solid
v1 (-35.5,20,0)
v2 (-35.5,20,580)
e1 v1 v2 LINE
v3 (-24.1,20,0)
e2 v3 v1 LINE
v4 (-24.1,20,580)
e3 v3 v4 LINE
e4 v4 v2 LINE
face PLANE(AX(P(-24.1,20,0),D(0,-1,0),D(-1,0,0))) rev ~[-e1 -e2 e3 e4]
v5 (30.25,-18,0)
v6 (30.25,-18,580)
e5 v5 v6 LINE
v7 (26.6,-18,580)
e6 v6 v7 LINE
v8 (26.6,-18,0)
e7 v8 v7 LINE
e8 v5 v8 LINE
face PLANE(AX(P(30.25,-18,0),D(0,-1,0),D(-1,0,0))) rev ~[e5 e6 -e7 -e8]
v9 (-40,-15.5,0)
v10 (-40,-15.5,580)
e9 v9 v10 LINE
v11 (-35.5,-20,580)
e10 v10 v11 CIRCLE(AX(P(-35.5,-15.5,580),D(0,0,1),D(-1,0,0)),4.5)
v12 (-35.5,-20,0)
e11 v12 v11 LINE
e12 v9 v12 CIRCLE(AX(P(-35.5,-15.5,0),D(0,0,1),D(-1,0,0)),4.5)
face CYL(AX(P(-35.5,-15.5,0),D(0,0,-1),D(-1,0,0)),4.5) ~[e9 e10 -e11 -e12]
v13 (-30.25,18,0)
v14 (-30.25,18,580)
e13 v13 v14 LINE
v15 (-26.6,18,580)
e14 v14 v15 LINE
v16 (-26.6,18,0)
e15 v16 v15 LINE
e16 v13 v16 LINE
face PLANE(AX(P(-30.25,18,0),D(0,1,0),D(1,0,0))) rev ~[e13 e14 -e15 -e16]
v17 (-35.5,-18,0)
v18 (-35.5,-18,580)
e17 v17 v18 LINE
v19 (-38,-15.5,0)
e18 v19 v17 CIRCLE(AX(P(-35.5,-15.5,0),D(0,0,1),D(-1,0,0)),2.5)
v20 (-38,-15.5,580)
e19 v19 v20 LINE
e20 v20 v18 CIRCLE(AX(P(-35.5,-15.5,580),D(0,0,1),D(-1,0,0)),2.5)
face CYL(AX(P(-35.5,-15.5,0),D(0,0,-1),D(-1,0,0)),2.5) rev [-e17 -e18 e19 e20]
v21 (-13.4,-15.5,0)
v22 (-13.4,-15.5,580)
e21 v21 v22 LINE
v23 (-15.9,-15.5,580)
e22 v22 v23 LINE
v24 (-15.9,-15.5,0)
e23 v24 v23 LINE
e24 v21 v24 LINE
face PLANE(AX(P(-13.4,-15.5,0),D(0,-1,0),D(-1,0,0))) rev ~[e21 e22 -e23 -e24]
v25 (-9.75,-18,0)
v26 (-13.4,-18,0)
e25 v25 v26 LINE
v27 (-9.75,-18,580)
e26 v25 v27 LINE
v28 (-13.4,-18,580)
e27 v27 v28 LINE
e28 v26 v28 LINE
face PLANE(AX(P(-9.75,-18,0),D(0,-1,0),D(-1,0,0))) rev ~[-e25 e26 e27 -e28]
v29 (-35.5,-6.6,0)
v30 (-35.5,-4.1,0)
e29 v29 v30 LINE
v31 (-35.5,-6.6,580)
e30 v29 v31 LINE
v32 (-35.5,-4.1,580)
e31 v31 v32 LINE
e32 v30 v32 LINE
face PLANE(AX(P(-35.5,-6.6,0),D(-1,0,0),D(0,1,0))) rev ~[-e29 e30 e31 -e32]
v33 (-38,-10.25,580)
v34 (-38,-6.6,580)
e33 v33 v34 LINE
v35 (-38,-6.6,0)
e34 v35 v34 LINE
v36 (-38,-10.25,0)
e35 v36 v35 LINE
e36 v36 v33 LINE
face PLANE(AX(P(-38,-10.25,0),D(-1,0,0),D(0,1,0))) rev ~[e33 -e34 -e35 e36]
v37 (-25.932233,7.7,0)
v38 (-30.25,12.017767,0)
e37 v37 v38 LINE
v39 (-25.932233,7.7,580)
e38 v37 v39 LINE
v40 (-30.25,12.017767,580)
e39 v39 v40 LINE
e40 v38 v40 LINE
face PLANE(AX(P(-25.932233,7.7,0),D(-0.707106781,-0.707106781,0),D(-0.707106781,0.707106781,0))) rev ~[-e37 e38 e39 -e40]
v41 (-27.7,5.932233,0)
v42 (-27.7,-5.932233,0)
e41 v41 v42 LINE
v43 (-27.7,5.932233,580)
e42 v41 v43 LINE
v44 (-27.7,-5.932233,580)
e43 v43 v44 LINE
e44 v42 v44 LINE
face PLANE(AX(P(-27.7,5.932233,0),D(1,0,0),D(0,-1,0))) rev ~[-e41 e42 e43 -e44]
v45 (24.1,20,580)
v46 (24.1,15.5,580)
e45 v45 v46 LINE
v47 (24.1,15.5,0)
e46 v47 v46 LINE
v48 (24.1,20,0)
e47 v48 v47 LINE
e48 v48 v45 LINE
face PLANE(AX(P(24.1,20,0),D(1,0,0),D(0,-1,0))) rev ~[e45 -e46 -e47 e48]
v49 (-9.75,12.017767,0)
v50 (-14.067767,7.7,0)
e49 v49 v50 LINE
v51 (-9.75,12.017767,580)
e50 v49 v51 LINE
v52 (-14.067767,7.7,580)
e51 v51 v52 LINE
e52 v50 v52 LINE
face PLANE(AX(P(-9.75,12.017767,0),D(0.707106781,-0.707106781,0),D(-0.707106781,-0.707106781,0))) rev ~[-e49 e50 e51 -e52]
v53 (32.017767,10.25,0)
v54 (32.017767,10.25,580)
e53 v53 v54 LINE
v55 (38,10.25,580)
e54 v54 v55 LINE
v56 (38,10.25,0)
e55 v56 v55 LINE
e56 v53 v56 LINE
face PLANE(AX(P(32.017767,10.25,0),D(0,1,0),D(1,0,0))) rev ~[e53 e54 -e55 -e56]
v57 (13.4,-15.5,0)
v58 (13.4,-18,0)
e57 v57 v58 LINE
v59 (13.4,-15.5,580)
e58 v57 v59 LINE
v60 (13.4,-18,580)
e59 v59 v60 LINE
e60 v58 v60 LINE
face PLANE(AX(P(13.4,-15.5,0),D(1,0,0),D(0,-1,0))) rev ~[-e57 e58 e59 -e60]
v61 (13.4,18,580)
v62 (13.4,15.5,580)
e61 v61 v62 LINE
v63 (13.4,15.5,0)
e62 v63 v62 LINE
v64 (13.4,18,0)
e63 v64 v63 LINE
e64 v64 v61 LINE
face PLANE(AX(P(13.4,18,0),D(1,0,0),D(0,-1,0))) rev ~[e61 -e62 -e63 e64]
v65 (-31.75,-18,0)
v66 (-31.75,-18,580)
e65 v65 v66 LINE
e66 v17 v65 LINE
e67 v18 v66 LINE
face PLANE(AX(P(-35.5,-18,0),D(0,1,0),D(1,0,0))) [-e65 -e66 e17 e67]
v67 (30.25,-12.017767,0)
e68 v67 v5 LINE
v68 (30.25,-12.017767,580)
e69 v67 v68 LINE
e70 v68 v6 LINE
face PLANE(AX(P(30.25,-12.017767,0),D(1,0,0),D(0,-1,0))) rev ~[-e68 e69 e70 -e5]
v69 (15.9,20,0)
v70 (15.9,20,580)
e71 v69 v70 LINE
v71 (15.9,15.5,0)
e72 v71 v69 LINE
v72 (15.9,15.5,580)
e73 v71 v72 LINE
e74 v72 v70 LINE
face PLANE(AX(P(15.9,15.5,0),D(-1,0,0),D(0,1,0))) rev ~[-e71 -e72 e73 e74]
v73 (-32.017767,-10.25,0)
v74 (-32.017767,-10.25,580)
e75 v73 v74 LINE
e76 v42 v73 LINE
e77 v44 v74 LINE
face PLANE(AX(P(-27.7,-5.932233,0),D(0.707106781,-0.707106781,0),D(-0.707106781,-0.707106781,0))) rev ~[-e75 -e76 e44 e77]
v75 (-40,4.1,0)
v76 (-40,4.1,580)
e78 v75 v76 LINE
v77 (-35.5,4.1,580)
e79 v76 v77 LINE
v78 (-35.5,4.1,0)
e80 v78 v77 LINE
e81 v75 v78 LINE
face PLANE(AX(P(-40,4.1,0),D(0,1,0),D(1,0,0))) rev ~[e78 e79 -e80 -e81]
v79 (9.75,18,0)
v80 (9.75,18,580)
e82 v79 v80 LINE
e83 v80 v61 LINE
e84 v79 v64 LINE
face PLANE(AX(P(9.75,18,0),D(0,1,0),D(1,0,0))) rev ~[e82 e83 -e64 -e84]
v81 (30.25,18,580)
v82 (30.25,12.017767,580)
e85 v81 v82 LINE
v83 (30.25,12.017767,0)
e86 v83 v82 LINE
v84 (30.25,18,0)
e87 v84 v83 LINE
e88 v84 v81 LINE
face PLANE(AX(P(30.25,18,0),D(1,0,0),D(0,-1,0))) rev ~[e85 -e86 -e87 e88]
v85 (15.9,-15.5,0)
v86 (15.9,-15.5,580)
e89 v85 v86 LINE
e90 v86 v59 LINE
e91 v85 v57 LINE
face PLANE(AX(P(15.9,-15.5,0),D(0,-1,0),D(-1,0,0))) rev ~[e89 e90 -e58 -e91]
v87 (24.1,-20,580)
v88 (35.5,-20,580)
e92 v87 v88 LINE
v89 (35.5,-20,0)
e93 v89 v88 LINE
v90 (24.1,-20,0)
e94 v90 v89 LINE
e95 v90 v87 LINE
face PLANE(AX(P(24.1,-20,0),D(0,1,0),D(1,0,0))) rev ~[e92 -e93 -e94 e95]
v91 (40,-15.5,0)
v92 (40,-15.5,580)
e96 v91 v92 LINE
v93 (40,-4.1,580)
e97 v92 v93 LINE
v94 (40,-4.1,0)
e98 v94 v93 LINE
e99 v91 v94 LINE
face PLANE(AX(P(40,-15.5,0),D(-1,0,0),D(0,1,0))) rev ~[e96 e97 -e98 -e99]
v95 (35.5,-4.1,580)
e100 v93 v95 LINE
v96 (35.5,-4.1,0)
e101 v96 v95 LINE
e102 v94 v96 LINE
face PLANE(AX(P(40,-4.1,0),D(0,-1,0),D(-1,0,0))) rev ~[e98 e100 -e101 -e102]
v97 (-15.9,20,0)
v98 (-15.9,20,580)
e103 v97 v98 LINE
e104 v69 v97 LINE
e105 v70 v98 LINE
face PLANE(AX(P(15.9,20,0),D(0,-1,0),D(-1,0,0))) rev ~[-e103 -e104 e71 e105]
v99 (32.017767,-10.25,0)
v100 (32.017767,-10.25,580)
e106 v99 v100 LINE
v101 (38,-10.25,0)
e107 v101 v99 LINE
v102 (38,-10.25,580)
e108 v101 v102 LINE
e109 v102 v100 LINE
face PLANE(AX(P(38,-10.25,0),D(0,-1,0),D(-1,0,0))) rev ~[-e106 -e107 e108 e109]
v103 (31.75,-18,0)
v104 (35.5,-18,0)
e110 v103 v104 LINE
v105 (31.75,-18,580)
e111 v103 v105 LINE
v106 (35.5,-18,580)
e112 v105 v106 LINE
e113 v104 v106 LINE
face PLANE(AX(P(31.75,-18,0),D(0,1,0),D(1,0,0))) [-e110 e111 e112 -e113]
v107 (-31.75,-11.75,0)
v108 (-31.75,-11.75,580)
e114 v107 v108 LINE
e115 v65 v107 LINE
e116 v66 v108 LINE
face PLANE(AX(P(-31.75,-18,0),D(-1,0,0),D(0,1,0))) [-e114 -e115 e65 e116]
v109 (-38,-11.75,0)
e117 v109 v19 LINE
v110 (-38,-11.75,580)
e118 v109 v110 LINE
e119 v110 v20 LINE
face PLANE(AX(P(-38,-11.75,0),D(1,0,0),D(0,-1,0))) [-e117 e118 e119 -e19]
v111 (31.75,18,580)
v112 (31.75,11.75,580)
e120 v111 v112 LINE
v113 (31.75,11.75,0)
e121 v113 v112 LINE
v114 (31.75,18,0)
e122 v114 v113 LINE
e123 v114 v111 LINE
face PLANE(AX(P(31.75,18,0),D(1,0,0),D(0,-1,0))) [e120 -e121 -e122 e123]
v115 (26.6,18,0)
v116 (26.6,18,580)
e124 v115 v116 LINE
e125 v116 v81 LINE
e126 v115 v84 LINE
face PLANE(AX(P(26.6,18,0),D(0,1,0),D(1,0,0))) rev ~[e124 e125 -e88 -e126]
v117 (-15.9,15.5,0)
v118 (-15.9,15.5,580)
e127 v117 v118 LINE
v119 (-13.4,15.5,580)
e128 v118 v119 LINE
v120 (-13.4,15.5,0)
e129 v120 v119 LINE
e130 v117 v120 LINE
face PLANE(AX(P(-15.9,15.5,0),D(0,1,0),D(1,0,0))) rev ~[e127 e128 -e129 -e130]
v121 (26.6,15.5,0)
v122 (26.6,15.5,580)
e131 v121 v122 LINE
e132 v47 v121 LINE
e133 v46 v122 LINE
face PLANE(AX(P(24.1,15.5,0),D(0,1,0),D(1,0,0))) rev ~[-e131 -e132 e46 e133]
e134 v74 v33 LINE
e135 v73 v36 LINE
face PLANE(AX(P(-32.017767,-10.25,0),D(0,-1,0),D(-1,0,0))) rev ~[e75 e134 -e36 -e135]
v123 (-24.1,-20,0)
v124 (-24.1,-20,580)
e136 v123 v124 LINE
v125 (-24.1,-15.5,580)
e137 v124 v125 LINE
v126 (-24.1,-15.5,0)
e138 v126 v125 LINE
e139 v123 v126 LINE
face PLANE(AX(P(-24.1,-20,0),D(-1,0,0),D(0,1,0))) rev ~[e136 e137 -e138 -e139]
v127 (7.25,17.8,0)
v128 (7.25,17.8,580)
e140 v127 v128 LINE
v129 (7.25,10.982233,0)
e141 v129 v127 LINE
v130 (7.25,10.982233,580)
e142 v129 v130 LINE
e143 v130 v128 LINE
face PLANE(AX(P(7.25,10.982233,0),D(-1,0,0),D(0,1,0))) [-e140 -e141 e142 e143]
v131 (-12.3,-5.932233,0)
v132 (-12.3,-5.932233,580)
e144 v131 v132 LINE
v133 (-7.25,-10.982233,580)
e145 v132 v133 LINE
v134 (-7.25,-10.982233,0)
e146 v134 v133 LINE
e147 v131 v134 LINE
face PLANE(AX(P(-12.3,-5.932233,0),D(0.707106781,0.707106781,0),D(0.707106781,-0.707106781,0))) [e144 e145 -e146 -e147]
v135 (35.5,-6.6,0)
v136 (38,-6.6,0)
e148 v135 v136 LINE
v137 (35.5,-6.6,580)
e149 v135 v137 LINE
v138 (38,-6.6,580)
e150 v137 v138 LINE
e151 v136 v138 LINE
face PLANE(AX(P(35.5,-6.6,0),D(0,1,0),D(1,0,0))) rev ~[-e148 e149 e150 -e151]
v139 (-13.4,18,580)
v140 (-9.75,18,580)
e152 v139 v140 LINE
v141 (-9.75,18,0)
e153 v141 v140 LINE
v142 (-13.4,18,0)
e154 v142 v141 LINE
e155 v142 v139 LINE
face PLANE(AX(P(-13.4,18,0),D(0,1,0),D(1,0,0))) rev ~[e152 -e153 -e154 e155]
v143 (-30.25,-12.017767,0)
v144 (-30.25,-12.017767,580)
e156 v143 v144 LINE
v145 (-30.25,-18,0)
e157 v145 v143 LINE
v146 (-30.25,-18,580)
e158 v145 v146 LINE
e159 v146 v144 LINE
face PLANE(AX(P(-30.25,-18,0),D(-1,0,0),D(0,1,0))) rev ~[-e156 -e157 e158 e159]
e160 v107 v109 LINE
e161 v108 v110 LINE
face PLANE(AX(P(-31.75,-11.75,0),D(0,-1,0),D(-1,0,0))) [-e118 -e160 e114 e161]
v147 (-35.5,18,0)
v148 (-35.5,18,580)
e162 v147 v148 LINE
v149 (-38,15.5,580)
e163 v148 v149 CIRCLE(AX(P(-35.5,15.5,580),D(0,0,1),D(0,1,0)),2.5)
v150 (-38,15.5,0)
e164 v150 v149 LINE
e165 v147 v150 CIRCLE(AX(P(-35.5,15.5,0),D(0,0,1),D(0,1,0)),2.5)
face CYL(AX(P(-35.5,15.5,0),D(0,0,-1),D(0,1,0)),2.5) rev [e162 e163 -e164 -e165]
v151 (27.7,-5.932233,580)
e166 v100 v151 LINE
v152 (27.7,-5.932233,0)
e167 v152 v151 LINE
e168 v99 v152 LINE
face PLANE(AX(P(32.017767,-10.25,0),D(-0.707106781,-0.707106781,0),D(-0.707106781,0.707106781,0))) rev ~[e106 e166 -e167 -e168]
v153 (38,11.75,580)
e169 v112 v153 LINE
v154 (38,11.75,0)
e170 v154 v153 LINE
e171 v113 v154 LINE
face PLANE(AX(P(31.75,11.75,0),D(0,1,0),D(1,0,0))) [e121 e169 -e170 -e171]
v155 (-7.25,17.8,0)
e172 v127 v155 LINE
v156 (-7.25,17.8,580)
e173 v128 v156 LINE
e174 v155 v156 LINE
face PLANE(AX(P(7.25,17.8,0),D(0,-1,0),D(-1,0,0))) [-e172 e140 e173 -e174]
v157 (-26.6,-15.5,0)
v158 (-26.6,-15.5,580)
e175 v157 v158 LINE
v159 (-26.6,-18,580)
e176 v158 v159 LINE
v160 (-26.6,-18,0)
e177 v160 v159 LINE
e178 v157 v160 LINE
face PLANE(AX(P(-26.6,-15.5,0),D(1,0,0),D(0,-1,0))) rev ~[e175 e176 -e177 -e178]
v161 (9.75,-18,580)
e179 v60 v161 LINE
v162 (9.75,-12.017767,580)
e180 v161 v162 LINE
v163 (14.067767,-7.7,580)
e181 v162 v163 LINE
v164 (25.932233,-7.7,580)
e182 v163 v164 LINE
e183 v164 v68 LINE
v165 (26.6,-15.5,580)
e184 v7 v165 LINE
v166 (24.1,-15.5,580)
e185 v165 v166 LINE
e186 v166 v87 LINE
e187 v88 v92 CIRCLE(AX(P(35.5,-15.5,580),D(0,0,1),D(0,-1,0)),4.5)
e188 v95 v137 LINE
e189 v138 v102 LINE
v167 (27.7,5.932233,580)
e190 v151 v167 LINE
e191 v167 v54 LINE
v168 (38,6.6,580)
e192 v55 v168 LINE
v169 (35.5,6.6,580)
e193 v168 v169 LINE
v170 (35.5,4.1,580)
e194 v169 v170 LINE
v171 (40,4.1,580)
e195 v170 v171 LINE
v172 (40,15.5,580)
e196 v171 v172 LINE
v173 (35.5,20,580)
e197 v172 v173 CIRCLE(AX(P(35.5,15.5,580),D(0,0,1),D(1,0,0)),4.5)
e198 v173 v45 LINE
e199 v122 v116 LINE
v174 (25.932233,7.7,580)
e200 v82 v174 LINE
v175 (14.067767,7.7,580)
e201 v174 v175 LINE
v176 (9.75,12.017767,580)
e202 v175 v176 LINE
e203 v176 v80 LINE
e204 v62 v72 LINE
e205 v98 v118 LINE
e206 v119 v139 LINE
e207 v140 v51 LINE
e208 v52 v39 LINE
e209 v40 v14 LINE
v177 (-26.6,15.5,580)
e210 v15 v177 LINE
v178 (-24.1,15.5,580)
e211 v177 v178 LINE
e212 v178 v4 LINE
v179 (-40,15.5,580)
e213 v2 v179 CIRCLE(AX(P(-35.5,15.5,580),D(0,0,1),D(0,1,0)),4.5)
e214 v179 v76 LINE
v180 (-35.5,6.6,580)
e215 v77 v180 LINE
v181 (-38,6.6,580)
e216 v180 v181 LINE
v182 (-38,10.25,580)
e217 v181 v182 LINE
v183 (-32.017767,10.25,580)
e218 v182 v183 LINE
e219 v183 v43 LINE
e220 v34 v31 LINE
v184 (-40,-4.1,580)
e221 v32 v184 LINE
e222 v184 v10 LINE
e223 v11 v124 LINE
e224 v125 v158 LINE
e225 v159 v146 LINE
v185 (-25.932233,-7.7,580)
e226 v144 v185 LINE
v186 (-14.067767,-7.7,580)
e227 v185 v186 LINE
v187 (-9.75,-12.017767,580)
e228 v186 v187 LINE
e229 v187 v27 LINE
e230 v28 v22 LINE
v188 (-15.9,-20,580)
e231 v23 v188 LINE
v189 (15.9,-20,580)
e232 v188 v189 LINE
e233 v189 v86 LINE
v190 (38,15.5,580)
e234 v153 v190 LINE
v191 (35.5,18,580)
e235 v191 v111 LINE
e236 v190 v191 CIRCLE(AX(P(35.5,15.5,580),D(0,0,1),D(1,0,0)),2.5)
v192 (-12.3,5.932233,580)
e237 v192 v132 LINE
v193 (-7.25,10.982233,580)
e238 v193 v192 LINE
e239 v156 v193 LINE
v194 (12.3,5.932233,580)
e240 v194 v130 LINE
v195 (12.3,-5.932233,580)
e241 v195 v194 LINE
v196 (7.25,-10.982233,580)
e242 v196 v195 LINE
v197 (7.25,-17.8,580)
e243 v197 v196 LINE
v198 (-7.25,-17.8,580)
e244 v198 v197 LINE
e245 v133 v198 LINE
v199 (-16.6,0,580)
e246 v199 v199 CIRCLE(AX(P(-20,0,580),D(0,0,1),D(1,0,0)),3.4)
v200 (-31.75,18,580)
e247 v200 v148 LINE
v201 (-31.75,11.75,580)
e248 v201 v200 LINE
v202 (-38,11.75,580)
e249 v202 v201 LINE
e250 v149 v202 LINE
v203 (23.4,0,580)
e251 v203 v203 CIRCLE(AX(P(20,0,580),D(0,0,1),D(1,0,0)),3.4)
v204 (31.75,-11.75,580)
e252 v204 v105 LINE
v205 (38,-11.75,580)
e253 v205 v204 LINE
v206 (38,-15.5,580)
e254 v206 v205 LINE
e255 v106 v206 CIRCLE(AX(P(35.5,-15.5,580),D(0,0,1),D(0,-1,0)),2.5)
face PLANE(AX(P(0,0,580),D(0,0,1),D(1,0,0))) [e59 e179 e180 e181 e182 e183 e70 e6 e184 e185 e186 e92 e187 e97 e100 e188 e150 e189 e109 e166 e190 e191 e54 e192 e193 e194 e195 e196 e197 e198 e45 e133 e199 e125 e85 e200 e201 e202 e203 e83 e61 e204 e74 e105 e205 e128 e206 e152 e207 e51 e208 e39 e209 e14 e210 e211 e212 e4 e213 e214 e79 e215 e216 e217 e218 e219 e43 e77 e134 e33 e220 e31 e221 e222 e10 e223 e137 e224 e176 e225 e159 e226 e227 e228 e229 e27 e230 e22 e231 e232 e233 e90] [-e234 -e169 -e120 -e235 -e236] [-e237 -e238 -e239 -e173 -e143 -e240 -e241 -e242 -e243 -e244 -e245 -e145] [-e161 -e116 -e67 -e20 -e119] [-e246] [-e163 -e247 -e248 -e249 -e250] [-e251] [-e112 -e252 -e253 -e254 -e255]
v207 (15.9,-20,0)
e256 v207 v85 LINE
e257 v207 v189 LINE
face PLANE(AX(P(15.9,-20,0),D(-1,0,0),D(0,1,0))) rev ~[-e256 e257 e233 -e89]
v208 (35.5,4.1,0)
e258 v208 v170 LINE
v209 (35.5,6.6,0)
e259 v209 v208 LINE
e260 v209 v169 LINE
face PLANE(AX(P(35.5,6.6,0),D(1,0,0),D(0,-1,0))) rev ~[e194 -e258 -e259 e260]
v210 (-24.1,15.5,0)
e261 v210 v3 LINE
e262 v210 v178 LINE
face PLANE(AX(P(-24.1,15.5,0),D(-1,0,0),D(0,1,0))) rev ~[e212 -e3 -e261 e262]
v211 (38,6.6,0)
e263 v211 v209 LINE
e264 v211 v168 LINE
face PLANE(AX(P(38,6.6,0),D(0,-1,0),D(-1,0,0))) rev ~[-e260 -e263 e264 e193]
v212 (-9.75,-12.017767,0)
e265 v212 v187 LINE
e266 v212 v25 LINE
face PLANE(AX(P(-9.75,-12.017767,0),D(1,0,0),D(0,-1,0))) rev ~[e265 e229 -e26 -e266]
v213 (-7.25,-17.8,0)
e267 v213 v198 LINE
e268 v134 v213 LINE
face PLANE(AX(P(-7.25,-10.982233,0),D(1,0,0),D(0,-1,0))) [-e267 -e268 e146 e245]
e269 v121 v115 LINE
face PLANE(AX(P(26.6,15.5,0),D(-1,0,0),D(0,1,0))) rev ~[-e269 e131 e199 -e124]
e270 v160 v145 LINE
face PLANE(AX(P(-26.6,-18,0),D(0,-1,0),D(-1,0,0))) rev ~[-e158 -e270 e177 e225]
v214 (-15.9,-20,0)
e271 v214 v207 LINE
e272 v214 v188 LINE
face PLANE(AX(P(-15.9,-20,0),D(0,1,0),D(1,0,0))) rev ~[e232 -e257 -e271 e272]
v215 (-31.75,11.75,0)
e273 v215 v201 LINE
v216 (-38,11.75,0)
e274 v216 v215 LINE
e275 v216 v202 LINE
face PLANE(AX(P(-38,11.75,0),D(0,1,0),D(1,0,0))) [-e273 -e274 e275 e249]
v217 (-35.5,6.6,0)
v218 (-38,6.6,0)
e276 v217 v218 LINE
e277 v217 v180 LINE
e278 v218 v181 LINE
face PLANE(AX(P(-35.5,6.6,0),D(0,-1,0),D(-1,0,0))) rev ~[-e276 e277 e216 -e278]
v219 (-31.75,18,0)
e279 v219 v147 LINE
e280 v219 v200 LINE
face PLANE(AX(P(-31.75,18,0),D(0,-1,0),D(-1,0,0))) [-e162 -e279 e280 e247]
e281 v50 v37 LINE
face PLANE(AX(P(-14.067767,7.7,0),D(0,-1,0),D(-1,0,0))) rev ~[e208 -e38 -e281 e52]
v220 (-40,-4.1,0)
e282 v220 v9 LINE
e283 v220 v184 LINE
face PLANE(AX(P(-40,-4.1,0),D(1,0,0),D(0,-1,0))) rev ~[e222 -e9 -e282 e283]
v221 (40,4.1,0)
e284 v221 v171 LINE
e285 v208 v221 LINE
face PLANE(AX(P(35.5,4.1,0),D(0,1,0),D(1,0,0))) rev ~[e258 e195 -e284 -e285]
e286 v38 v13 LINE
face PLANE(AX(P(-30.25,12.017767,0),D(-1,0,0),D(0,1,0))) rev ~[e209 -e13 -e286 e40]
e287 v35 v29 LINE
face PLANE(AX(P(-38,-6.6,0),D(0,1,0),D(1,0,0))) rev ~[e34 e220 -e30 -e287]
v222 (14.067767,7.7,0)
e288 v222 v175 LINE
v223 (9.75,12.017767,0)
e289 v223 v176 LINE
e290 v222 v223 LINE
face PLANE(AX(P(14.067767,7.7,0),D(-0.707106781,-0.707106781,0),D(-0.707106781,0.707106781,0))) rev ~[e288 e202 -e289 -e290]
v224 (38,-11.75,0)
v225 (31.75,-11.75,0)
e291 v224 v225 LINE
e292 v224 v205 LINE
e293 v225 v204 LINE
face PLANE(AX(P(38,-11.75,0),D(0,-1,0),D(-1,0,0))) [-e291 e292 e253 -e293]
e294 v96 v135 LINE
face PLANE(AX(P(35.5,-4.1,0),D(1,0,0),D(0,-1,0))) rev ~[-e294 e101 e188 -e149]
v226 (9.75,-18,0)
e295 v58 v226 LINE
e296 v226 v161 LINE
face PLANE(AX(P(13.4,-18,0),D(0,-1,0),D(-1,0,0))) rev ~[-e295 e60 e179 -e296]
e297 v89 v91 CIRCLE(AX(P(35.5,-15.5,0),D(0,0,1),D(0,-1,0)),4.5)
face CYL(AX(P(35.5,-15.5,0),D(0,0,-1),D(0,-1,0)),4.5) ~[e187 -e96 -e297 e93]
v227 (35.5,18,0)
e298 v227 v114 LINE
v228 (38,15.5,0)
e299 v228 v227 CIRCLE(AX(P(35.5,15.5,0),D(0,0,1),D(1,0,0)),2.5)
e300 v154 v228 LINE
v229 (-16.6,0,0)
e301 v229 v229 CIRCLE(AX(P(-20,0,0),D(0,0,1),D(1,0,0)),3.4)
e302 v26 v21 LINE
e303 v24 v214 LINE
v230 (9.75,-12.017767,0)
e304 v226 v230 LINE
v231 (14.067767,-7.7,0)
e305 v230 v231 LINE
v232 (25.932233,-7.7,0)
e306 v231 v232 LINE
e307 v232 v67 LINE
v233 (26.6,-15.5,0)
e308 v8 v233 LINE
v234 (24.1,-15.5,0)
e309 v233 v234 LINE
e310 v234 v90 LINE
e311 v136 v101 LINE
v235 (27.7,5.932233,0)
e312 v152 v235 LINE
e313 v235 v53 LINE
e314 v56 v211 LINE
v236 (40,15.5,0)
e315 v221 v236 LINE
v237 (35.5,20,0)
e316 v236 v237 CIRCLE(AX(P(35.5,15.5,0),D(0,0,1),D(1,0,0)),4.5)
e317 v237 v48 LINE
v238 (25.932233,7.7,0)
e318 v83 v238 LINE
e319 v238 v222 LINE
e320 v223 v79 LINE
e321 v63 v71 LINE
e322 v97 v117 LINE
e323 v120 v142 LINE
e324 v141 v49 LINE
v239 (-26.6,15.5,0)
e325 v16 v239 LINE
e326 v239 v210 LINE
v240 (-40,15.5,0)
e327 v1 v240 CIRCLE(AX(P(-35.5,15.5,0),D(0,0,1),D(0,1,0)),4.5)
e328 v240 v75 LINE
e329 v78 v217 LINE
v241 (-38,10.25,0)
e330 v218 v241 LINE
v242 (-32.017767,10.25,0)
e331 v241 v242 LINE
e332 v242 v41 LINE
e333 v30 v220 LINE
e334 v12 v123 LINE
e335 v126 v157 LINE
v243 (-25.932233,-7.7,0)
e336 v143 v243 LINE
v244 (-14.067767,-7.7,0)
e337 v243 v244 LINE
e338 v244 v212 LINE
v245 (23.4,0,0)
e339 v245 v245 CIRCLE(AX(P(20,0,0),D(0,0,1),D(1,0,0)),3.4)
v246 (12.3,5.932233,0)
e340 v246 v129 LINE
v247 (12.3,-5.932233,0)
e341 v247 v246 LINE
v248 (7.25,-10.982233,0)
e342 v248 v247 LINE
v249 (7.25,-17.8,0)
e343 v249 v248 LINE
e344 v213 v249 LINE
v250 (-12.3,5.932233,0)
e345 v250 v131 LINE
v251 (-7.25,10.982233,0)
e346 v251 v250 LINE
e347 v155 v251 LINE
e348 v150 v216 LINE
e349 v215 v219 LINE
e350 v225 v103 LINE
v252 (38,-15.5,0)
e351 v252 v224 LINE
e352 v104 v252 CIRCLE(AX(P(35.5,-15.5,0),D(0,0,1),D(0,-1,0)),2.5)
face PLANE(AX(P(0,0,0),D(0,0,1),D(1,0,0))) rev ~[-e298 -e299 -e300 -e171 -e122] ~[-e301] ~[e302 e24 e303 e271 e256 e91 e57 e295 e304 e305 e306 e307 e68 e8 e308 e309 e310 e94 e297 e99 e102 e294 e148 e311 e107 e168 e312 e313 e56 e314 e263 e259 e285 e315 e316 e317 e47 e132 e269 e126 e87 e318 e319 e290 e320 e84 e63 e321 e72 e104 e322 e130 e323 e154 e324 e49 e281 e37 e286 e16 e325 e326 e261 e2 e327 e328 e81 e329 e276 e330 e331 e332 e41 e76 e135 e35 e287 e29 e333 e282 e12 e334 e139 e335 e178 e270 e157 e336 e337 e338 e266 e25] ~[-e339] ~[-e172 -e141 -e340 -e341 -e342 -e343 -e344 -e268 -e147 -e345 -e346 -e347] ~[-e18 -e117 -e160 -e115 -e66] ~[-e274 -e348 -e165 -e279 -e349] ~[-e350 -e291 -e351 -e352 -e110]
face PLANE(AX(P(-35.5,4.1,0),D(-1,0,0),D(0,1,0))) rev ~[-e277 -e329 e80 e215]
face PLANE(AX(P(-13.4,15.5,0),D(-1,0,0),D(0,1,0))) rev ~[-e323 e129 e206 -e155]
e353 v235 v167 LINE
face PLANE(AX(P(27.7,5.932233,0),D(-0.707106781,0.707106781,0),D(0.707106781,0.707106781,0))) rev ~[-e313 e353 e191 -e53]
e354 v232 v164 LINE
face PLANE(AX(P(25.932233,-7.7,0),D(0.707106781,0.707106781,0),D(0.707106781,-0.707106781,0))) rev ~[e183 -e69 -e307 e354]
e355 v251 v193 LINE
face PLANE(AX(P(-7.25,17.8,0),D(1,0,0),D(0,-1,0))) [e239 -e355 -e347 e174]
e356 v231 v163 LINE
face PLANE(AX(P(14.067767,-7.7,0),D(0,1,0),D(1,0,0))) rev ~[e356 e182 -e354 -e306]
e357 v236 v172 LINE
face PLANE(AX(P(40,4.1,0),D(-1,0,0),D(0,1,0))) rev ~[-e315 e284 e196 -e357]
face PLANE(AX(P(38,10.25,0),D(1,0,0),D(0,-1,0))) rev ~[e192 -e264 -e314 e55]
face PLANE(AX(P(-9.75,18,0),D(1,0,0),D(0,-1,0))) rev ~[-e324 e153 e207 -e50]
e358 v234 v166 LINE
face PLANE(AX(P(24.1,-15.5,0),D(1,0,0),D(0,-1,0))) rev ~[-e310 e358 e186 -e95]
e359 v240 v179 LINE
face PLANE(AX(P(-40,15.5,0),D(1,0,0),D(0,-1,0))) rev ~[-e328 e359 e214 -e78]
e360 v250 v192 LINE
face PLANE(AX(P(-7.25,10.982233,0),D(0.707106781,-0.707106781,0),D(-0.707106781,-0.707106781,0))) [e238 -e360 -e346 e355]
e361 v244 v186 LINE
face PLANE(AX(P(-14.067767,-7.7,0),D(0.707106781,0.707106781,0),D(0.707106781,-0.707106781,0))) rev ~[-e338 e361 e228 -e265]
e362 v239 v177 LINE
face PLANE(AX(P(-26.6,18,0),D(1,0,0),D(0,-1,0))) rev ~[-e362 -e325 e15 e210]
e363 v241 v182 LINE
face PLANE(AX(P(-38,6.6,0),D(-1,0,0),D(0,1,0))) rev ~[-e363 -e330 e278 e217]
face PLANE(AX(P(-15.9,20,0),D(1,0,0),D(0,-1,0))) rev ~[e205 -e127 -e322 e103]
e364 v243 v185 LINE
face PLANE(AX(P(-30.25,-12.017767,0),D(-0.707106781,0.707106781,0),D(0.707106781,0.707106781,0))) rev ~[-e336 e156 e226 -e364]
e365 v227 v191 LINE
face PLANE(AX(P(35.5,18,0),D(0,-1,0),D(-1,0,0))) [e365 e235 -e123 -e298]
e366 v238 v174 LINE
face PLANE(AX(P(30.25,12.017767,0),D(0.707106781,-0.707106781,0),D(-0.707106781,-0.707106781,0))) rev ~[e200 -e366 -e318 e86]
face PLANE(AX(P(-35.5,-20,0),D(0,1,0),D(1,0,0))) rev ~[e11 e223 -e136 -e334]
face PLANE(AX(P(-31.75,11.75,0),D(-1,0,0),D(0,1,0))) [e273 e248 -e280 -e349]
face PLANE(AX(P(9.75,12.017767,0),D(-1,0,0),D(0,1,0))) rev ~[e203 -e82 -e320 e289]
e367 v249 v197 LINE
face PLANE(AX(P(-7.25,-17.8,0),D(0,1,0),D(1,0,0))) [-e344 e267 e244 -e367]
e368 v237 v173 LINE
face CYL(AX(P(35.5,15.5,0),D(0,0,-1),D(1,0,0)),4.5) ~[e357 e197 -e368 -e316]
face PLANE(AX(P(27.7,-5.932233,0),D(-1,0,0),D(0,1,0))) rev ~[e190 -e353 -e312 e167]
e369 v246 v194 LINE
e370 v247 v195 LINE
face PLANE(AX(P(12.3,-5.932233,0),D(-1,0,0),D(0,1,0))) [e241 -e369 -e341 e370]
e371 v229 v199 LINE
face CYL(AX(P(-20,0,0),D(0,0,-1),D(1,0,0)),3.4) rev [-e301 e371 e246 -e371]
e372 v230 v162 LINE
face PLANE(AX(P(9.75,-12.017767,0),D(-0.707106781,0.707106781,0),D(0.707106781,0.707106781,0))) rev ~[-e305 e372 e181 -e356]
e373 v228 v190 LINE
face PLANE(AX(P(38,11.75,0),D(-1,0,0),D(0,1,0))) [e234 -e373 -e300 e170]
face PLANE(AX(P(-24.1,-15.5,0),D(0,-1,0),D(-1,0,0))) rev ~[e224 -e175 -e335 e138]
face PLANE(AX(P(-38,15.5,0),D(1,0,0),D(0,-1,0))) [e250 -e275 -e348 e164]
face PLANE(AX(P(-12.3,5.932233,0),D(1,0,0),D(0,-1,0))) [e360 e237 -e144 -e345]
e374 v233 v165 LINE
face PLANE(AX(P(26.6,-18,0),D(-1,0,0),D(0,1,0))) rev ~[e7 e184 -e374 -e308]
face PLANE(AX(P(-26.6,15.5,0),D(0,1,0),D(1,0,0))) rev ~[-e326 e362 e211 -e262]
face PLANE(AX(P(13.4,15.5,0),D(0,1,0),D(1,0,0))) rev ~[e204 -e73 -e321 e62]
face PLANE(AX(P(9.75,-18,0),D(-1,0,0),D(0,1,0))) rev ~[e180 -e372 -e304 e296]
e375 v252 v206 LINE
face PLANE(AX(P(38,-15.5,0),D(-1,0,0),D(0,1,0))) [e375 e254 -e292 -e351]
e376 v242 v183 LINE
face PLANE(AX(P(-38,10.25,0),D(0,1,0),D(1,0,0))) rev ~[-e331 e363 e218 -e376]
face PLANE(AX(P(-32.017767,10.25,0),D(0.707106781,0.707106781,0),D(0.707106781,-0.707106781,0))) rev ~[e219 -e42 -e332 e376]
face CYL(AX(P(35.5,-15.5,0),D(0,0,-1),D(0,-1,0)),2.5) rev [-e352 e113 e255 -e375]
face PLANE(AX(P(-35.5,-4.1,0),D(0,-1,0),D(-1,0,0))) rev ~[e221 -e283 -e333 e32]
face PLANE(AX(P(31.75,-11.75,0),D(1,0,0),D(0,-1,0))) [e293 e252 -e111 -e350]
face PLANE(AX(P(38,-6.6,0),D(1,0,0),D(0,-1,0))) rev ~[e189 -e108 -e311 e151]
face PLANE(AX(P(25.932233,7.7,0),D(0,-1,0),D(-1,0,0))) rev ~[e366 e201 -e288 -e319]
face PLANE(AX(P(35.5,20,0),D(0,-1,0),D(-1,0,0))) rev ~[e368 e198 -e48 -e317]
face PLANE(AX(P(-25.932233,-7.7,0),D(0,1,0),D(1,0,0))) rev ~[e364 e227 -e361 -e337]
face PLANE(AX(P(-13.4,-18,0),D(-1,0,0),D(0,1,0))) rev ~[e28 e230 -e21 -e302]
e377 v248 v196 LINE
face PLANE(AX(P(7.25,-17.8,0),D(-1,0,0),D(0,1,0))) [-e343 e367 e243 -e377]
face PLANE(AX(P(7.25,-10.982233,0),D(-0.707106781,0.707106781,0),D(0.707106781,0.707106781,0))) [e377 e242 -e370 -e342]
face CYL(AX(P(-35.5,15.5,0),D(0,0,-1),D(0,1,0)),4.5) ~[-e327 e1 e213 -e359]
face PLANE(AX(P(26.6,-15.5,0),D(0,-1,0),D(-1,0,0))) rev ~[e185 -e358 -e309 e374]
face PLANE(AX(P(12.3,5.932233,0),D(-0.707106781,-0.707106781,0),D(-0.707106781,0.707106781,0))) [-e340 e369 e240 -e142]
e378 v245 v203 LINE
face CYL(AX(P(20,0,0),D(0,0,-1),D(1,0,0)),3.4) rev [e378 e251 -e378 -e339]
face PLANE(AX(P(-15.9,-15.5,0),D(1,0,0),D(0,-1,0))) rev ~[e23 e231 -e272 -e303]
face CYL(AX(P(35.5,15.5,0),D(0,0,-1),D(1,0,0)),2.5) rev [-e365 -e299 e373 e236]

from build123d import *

# Parameters (mm, degrees)
SKETCH1_R           = 3.4
BOSS_EXTRUDE1_DEPTH = 580


with BuildPart() as part:
    # Sketch1 → Boss-Extrude1 (new body)
    with BuildSketch(Plane.XY):
        with BuildLine():
            Line((24.1, -20), (35.5, -20))
            ThreePointArc((35.5, -20), (38.681980515, -18.681980515), (40, -15.5))
            Line((40, -15.5), (40, -4.1))
            Line((40, -4.1), (35.5, -4.1))
            Line((35.5, -4.1), (35.5, -6.6))
            Line((35.5, -6.6), (38, -6.6))
            Line((38, -6.6), (38, -10.25))
            Line((38, -10.25), (32.017766953, -10.25))
            Line((32.017766953, -10.25), (27.7, -5.932233047))
            Line((27.7, -5.932233047), (27.7, 5.932233047))
            Line((27.7, 5.932233047), (32.017766953, 10.25))
            Line((32.017766953, 10.25), (38, 10.25))
            Line((38, 10.25), (38, 6.6))
            Line((38, 6.6), (35.5, 6.6))
            Line((35.5, 6.6), (35.5, 4.1))
            Line((35.5, 4.1), (40, 4.1))
            Line((40, 4.1), (40, 15.5))
            ThreePointArc((40, 15.5), (38.681980515, 18.681980515), (35.5, 20))
            Line((35.5, 20), (24.1, 20))
            Line((24.1, 20), (24.1, 15.5))
            Line((24.1, 15.5), (26.6, 15.5))
            Line((26.6, 15.5), (26.6, 18))
            Line((26.6, 18), (30.25, 18))
            Line((30.25, 18), (30.25, 12.017766953))
            Line((30.25, 12.017766953), (25.932233047, 7.7))
            Line((25.932233047, 7.7), (14.067766953, 7.7))
            Line((14.067766953, 7.7), (9.75, 12.017766953))
            Line((9.75, 12.017766953), (9.75, 18))
            Line((9.75, 18), (13.4, 18))
            Line((13.4, 18), (13.4, 15.5))
            Line((13.4, 15.5), (15.9, 15.5))
            Line((15.9, 15.5), (15.9, 20))
            Line((15.9, 20), (-15.9, 20))
            Line((-15.9, 20), (-15.9, 15.5))
            Line((-15.9, 15.5), (-13.4, 15.5))
            Line((-13.4, 15.5), (-13.4, 18))
            Line((-13.4, 18), (-9.75, 18))
            Line((-9.75, 18), (-9.75, 12.017766953))
            Line((-9.75, 12.017766953), (-14.067766953, 7.7))
            Line((-14.067766953, 7.7), (-25.932233047, 7.7))
            Line((-25.932233047, 7.7), (-30.25, 12.017766953))
            Line((-30.25, 12.017766953), (-30.25, 18))
            Line((-30.25, 18), (-26.6, 18))
            Line((-26.6, 18), (-26.6, 15.5))
            Line((-26.6, 15.5), (-24.1, 15.5))
            Line((-24.1, 15.5), (-24.1, 20))
            Line((-24.1, 20), (-35.5, 20))
            ThreePointArc((-35.5, 20), (-38.681980515, 18.681980515), (-40, 15.5))
            Line((-40, 15.5), (-40, 4.1))
            Line((-40, 4.1), (-35.5, 4.1))
            Line((-35.5, 4.1), (-35.5, 6.6))
            Line((-35.5, 6.6), (-38, 6.6))
            Line((-38, 6.6), (-38, 10.25))
            Line((-38, 10.25), (-32.017766953, 10.25))
            Line((-32.017766953, 10.25), (-27.7, 5.932233047))
            Line((-27.7, 5.932233047), (-27.7, -5.932233047))
            Line((-27.7, -5.932233047), (-32.017766953, -10.25))
            Line((-32.017766953, -10.25), (-38, -10.25))
            Line((-38, -10.25), (-38, -6.6))
            Line((-38, -6.6), (-35.5, -6.6))
            Line((-35.5, -6.6), (-35.5, -4.1))
            Line((-35.5, -4.1), (-40, -4.1))
            Line((-40, -4.1), (-40, -15.5))
            ThreePointArc((-40, -15.5), (-38.681980515, -18.681980515), (-35.5, -20))
            Line((-35.5, -20), (-24.1, -20))
            Line((-24.1, -20), (-24.1, -15.5))
            Line((-24.1, -15.5), (-26.6, -15.5))
            Line((-26.6, -15.5), (-26.6, -18))
            Line((-26.6, -18), (-30.25, -18))
            Line((-30.25, -18), (-30.25, -12.017766953))
            Line((-30.25, -12.017766953), (-25.932233047, -7.7))
            Line((-25.932233047, -7.7), (-14.067766953, -7.7))
            Line((-14.067766953, -7.7), (-9.75, -12.017766953))
            Line((-9.75, -12.017766953), (-9.75, -18))
            Line((-9.75, -18), (-13.4, -18))
            Line((-13.4, -18), (-13.4, -15.5))
            Line((-13.4, -15.5), (-15.9, -15.5))
            Line((-15.9, -15.5), (-15.9, -20))
            Line((-15.9, -20), (15.9, -20))
            Line((15.9, -20), (15.9, -15.5))
            Line((15.9, -15.5), (13.4, -15.5))
            Line((13.4, -15.5), (13.4, -18))
            Line((13.4, -18), (9.75, -18))
            Line((9.75, -18), (9.75, -12.017766953))
            Line((9.75, -12.017766953), (14.067766953, -7.7))
            Line((14.067766953, -7.7), (25.932233047, -7.7))
            Line((25.932233047, -7.7), (30.25, -12.017766953))
            Line((30.25, -12.017766953), (30.25, -18))
            Line((30.25, -18), (26.6, -18))
            Line((26.6, -18), (26.6, -15.5))
            Line((26.6, -15.5), (24.1, -15.5))
            Line((24.1, -15.5), (24.1, -20))
        make_face()
        with Locations((-20, 0)):
            Circle(SKETCH1_R, mode=Mode.SUBTRACT)
        with Locations((20, 0)):
            Circle(SKETCH1_R, mode=Mode.SUBTRACT)
        with BuildLine():
            Line((38, -15.5), (38, -11.75))
            Line((38, -11.75), (31.75, -11.75))
            Line((31.75, -11.75), (31.75, -18))
            Line((31.75, -18), (35.5, -18))
            ThreePointArc((35.5, -18), (37.267766953, -17.267766953), (38, -15.5))
        make_face(mode=Mode.SUBTRACT)
        with BuildLine():
            Line((-38, 15.5), (-38, 11.75))
            Line((-38, 11.75), (-31.75, 11.75))
            Line((-31.75, 11.75), (-31.75, 18))
            Line((-31.75, 18), (-35.5, 18))
            ThreePointArc((-35.5, 18), (-37.267766953, 17.267766953), (-38, 15.5))
        make_face(mode=Mode.SUBTRACT)
        Polygon((-7.25, -10.982233047), (-7.25, -17.8), (7.25, -17.8), (7.25, -10.982233047), (12.3, -5.932233047), (12.3, 5.932233047), (7.25, 10.982233047), (7.25, 17.8), (-7.25, 17.8), (-7.25, 10.982233047), (-12.3, 5.932233047), (-12.3, -5.932233047), align=None, mode=Mode.SUBTRACT)
        with BuildLine():
            Line((-35.5, -18), (-31.75, -18))
            Line((-31.75, -18), (-31.75, -11.75))
            Line((-31.75, -11.75), (-38, -11.75))
            Line((-38, -11.75), (-38, -15.5))
            ThreePointArc((-38, -15.5), (-37.267766953, -17.267766953), (-35.5, -18))
        make_face(mode=Mode.SUBTRACT)
        with BuildLine():
            Line((35.5, 18), (31.75, 18))
            Line((31.75, 18), (31.75, 11.75))
            Line((31.75, 11.75), (38, 11.75))
            Line((38, 11.75), (38, 15.5))
            ThreePointArc((38, 15.5), (37.267766953, 17.267766953), (35.5, 18))
        make_face(mode=Mode.SUBTRACT)
    extrude(amount=BOSS_EXTRUDE1_DEPTH)


solid = part.part
